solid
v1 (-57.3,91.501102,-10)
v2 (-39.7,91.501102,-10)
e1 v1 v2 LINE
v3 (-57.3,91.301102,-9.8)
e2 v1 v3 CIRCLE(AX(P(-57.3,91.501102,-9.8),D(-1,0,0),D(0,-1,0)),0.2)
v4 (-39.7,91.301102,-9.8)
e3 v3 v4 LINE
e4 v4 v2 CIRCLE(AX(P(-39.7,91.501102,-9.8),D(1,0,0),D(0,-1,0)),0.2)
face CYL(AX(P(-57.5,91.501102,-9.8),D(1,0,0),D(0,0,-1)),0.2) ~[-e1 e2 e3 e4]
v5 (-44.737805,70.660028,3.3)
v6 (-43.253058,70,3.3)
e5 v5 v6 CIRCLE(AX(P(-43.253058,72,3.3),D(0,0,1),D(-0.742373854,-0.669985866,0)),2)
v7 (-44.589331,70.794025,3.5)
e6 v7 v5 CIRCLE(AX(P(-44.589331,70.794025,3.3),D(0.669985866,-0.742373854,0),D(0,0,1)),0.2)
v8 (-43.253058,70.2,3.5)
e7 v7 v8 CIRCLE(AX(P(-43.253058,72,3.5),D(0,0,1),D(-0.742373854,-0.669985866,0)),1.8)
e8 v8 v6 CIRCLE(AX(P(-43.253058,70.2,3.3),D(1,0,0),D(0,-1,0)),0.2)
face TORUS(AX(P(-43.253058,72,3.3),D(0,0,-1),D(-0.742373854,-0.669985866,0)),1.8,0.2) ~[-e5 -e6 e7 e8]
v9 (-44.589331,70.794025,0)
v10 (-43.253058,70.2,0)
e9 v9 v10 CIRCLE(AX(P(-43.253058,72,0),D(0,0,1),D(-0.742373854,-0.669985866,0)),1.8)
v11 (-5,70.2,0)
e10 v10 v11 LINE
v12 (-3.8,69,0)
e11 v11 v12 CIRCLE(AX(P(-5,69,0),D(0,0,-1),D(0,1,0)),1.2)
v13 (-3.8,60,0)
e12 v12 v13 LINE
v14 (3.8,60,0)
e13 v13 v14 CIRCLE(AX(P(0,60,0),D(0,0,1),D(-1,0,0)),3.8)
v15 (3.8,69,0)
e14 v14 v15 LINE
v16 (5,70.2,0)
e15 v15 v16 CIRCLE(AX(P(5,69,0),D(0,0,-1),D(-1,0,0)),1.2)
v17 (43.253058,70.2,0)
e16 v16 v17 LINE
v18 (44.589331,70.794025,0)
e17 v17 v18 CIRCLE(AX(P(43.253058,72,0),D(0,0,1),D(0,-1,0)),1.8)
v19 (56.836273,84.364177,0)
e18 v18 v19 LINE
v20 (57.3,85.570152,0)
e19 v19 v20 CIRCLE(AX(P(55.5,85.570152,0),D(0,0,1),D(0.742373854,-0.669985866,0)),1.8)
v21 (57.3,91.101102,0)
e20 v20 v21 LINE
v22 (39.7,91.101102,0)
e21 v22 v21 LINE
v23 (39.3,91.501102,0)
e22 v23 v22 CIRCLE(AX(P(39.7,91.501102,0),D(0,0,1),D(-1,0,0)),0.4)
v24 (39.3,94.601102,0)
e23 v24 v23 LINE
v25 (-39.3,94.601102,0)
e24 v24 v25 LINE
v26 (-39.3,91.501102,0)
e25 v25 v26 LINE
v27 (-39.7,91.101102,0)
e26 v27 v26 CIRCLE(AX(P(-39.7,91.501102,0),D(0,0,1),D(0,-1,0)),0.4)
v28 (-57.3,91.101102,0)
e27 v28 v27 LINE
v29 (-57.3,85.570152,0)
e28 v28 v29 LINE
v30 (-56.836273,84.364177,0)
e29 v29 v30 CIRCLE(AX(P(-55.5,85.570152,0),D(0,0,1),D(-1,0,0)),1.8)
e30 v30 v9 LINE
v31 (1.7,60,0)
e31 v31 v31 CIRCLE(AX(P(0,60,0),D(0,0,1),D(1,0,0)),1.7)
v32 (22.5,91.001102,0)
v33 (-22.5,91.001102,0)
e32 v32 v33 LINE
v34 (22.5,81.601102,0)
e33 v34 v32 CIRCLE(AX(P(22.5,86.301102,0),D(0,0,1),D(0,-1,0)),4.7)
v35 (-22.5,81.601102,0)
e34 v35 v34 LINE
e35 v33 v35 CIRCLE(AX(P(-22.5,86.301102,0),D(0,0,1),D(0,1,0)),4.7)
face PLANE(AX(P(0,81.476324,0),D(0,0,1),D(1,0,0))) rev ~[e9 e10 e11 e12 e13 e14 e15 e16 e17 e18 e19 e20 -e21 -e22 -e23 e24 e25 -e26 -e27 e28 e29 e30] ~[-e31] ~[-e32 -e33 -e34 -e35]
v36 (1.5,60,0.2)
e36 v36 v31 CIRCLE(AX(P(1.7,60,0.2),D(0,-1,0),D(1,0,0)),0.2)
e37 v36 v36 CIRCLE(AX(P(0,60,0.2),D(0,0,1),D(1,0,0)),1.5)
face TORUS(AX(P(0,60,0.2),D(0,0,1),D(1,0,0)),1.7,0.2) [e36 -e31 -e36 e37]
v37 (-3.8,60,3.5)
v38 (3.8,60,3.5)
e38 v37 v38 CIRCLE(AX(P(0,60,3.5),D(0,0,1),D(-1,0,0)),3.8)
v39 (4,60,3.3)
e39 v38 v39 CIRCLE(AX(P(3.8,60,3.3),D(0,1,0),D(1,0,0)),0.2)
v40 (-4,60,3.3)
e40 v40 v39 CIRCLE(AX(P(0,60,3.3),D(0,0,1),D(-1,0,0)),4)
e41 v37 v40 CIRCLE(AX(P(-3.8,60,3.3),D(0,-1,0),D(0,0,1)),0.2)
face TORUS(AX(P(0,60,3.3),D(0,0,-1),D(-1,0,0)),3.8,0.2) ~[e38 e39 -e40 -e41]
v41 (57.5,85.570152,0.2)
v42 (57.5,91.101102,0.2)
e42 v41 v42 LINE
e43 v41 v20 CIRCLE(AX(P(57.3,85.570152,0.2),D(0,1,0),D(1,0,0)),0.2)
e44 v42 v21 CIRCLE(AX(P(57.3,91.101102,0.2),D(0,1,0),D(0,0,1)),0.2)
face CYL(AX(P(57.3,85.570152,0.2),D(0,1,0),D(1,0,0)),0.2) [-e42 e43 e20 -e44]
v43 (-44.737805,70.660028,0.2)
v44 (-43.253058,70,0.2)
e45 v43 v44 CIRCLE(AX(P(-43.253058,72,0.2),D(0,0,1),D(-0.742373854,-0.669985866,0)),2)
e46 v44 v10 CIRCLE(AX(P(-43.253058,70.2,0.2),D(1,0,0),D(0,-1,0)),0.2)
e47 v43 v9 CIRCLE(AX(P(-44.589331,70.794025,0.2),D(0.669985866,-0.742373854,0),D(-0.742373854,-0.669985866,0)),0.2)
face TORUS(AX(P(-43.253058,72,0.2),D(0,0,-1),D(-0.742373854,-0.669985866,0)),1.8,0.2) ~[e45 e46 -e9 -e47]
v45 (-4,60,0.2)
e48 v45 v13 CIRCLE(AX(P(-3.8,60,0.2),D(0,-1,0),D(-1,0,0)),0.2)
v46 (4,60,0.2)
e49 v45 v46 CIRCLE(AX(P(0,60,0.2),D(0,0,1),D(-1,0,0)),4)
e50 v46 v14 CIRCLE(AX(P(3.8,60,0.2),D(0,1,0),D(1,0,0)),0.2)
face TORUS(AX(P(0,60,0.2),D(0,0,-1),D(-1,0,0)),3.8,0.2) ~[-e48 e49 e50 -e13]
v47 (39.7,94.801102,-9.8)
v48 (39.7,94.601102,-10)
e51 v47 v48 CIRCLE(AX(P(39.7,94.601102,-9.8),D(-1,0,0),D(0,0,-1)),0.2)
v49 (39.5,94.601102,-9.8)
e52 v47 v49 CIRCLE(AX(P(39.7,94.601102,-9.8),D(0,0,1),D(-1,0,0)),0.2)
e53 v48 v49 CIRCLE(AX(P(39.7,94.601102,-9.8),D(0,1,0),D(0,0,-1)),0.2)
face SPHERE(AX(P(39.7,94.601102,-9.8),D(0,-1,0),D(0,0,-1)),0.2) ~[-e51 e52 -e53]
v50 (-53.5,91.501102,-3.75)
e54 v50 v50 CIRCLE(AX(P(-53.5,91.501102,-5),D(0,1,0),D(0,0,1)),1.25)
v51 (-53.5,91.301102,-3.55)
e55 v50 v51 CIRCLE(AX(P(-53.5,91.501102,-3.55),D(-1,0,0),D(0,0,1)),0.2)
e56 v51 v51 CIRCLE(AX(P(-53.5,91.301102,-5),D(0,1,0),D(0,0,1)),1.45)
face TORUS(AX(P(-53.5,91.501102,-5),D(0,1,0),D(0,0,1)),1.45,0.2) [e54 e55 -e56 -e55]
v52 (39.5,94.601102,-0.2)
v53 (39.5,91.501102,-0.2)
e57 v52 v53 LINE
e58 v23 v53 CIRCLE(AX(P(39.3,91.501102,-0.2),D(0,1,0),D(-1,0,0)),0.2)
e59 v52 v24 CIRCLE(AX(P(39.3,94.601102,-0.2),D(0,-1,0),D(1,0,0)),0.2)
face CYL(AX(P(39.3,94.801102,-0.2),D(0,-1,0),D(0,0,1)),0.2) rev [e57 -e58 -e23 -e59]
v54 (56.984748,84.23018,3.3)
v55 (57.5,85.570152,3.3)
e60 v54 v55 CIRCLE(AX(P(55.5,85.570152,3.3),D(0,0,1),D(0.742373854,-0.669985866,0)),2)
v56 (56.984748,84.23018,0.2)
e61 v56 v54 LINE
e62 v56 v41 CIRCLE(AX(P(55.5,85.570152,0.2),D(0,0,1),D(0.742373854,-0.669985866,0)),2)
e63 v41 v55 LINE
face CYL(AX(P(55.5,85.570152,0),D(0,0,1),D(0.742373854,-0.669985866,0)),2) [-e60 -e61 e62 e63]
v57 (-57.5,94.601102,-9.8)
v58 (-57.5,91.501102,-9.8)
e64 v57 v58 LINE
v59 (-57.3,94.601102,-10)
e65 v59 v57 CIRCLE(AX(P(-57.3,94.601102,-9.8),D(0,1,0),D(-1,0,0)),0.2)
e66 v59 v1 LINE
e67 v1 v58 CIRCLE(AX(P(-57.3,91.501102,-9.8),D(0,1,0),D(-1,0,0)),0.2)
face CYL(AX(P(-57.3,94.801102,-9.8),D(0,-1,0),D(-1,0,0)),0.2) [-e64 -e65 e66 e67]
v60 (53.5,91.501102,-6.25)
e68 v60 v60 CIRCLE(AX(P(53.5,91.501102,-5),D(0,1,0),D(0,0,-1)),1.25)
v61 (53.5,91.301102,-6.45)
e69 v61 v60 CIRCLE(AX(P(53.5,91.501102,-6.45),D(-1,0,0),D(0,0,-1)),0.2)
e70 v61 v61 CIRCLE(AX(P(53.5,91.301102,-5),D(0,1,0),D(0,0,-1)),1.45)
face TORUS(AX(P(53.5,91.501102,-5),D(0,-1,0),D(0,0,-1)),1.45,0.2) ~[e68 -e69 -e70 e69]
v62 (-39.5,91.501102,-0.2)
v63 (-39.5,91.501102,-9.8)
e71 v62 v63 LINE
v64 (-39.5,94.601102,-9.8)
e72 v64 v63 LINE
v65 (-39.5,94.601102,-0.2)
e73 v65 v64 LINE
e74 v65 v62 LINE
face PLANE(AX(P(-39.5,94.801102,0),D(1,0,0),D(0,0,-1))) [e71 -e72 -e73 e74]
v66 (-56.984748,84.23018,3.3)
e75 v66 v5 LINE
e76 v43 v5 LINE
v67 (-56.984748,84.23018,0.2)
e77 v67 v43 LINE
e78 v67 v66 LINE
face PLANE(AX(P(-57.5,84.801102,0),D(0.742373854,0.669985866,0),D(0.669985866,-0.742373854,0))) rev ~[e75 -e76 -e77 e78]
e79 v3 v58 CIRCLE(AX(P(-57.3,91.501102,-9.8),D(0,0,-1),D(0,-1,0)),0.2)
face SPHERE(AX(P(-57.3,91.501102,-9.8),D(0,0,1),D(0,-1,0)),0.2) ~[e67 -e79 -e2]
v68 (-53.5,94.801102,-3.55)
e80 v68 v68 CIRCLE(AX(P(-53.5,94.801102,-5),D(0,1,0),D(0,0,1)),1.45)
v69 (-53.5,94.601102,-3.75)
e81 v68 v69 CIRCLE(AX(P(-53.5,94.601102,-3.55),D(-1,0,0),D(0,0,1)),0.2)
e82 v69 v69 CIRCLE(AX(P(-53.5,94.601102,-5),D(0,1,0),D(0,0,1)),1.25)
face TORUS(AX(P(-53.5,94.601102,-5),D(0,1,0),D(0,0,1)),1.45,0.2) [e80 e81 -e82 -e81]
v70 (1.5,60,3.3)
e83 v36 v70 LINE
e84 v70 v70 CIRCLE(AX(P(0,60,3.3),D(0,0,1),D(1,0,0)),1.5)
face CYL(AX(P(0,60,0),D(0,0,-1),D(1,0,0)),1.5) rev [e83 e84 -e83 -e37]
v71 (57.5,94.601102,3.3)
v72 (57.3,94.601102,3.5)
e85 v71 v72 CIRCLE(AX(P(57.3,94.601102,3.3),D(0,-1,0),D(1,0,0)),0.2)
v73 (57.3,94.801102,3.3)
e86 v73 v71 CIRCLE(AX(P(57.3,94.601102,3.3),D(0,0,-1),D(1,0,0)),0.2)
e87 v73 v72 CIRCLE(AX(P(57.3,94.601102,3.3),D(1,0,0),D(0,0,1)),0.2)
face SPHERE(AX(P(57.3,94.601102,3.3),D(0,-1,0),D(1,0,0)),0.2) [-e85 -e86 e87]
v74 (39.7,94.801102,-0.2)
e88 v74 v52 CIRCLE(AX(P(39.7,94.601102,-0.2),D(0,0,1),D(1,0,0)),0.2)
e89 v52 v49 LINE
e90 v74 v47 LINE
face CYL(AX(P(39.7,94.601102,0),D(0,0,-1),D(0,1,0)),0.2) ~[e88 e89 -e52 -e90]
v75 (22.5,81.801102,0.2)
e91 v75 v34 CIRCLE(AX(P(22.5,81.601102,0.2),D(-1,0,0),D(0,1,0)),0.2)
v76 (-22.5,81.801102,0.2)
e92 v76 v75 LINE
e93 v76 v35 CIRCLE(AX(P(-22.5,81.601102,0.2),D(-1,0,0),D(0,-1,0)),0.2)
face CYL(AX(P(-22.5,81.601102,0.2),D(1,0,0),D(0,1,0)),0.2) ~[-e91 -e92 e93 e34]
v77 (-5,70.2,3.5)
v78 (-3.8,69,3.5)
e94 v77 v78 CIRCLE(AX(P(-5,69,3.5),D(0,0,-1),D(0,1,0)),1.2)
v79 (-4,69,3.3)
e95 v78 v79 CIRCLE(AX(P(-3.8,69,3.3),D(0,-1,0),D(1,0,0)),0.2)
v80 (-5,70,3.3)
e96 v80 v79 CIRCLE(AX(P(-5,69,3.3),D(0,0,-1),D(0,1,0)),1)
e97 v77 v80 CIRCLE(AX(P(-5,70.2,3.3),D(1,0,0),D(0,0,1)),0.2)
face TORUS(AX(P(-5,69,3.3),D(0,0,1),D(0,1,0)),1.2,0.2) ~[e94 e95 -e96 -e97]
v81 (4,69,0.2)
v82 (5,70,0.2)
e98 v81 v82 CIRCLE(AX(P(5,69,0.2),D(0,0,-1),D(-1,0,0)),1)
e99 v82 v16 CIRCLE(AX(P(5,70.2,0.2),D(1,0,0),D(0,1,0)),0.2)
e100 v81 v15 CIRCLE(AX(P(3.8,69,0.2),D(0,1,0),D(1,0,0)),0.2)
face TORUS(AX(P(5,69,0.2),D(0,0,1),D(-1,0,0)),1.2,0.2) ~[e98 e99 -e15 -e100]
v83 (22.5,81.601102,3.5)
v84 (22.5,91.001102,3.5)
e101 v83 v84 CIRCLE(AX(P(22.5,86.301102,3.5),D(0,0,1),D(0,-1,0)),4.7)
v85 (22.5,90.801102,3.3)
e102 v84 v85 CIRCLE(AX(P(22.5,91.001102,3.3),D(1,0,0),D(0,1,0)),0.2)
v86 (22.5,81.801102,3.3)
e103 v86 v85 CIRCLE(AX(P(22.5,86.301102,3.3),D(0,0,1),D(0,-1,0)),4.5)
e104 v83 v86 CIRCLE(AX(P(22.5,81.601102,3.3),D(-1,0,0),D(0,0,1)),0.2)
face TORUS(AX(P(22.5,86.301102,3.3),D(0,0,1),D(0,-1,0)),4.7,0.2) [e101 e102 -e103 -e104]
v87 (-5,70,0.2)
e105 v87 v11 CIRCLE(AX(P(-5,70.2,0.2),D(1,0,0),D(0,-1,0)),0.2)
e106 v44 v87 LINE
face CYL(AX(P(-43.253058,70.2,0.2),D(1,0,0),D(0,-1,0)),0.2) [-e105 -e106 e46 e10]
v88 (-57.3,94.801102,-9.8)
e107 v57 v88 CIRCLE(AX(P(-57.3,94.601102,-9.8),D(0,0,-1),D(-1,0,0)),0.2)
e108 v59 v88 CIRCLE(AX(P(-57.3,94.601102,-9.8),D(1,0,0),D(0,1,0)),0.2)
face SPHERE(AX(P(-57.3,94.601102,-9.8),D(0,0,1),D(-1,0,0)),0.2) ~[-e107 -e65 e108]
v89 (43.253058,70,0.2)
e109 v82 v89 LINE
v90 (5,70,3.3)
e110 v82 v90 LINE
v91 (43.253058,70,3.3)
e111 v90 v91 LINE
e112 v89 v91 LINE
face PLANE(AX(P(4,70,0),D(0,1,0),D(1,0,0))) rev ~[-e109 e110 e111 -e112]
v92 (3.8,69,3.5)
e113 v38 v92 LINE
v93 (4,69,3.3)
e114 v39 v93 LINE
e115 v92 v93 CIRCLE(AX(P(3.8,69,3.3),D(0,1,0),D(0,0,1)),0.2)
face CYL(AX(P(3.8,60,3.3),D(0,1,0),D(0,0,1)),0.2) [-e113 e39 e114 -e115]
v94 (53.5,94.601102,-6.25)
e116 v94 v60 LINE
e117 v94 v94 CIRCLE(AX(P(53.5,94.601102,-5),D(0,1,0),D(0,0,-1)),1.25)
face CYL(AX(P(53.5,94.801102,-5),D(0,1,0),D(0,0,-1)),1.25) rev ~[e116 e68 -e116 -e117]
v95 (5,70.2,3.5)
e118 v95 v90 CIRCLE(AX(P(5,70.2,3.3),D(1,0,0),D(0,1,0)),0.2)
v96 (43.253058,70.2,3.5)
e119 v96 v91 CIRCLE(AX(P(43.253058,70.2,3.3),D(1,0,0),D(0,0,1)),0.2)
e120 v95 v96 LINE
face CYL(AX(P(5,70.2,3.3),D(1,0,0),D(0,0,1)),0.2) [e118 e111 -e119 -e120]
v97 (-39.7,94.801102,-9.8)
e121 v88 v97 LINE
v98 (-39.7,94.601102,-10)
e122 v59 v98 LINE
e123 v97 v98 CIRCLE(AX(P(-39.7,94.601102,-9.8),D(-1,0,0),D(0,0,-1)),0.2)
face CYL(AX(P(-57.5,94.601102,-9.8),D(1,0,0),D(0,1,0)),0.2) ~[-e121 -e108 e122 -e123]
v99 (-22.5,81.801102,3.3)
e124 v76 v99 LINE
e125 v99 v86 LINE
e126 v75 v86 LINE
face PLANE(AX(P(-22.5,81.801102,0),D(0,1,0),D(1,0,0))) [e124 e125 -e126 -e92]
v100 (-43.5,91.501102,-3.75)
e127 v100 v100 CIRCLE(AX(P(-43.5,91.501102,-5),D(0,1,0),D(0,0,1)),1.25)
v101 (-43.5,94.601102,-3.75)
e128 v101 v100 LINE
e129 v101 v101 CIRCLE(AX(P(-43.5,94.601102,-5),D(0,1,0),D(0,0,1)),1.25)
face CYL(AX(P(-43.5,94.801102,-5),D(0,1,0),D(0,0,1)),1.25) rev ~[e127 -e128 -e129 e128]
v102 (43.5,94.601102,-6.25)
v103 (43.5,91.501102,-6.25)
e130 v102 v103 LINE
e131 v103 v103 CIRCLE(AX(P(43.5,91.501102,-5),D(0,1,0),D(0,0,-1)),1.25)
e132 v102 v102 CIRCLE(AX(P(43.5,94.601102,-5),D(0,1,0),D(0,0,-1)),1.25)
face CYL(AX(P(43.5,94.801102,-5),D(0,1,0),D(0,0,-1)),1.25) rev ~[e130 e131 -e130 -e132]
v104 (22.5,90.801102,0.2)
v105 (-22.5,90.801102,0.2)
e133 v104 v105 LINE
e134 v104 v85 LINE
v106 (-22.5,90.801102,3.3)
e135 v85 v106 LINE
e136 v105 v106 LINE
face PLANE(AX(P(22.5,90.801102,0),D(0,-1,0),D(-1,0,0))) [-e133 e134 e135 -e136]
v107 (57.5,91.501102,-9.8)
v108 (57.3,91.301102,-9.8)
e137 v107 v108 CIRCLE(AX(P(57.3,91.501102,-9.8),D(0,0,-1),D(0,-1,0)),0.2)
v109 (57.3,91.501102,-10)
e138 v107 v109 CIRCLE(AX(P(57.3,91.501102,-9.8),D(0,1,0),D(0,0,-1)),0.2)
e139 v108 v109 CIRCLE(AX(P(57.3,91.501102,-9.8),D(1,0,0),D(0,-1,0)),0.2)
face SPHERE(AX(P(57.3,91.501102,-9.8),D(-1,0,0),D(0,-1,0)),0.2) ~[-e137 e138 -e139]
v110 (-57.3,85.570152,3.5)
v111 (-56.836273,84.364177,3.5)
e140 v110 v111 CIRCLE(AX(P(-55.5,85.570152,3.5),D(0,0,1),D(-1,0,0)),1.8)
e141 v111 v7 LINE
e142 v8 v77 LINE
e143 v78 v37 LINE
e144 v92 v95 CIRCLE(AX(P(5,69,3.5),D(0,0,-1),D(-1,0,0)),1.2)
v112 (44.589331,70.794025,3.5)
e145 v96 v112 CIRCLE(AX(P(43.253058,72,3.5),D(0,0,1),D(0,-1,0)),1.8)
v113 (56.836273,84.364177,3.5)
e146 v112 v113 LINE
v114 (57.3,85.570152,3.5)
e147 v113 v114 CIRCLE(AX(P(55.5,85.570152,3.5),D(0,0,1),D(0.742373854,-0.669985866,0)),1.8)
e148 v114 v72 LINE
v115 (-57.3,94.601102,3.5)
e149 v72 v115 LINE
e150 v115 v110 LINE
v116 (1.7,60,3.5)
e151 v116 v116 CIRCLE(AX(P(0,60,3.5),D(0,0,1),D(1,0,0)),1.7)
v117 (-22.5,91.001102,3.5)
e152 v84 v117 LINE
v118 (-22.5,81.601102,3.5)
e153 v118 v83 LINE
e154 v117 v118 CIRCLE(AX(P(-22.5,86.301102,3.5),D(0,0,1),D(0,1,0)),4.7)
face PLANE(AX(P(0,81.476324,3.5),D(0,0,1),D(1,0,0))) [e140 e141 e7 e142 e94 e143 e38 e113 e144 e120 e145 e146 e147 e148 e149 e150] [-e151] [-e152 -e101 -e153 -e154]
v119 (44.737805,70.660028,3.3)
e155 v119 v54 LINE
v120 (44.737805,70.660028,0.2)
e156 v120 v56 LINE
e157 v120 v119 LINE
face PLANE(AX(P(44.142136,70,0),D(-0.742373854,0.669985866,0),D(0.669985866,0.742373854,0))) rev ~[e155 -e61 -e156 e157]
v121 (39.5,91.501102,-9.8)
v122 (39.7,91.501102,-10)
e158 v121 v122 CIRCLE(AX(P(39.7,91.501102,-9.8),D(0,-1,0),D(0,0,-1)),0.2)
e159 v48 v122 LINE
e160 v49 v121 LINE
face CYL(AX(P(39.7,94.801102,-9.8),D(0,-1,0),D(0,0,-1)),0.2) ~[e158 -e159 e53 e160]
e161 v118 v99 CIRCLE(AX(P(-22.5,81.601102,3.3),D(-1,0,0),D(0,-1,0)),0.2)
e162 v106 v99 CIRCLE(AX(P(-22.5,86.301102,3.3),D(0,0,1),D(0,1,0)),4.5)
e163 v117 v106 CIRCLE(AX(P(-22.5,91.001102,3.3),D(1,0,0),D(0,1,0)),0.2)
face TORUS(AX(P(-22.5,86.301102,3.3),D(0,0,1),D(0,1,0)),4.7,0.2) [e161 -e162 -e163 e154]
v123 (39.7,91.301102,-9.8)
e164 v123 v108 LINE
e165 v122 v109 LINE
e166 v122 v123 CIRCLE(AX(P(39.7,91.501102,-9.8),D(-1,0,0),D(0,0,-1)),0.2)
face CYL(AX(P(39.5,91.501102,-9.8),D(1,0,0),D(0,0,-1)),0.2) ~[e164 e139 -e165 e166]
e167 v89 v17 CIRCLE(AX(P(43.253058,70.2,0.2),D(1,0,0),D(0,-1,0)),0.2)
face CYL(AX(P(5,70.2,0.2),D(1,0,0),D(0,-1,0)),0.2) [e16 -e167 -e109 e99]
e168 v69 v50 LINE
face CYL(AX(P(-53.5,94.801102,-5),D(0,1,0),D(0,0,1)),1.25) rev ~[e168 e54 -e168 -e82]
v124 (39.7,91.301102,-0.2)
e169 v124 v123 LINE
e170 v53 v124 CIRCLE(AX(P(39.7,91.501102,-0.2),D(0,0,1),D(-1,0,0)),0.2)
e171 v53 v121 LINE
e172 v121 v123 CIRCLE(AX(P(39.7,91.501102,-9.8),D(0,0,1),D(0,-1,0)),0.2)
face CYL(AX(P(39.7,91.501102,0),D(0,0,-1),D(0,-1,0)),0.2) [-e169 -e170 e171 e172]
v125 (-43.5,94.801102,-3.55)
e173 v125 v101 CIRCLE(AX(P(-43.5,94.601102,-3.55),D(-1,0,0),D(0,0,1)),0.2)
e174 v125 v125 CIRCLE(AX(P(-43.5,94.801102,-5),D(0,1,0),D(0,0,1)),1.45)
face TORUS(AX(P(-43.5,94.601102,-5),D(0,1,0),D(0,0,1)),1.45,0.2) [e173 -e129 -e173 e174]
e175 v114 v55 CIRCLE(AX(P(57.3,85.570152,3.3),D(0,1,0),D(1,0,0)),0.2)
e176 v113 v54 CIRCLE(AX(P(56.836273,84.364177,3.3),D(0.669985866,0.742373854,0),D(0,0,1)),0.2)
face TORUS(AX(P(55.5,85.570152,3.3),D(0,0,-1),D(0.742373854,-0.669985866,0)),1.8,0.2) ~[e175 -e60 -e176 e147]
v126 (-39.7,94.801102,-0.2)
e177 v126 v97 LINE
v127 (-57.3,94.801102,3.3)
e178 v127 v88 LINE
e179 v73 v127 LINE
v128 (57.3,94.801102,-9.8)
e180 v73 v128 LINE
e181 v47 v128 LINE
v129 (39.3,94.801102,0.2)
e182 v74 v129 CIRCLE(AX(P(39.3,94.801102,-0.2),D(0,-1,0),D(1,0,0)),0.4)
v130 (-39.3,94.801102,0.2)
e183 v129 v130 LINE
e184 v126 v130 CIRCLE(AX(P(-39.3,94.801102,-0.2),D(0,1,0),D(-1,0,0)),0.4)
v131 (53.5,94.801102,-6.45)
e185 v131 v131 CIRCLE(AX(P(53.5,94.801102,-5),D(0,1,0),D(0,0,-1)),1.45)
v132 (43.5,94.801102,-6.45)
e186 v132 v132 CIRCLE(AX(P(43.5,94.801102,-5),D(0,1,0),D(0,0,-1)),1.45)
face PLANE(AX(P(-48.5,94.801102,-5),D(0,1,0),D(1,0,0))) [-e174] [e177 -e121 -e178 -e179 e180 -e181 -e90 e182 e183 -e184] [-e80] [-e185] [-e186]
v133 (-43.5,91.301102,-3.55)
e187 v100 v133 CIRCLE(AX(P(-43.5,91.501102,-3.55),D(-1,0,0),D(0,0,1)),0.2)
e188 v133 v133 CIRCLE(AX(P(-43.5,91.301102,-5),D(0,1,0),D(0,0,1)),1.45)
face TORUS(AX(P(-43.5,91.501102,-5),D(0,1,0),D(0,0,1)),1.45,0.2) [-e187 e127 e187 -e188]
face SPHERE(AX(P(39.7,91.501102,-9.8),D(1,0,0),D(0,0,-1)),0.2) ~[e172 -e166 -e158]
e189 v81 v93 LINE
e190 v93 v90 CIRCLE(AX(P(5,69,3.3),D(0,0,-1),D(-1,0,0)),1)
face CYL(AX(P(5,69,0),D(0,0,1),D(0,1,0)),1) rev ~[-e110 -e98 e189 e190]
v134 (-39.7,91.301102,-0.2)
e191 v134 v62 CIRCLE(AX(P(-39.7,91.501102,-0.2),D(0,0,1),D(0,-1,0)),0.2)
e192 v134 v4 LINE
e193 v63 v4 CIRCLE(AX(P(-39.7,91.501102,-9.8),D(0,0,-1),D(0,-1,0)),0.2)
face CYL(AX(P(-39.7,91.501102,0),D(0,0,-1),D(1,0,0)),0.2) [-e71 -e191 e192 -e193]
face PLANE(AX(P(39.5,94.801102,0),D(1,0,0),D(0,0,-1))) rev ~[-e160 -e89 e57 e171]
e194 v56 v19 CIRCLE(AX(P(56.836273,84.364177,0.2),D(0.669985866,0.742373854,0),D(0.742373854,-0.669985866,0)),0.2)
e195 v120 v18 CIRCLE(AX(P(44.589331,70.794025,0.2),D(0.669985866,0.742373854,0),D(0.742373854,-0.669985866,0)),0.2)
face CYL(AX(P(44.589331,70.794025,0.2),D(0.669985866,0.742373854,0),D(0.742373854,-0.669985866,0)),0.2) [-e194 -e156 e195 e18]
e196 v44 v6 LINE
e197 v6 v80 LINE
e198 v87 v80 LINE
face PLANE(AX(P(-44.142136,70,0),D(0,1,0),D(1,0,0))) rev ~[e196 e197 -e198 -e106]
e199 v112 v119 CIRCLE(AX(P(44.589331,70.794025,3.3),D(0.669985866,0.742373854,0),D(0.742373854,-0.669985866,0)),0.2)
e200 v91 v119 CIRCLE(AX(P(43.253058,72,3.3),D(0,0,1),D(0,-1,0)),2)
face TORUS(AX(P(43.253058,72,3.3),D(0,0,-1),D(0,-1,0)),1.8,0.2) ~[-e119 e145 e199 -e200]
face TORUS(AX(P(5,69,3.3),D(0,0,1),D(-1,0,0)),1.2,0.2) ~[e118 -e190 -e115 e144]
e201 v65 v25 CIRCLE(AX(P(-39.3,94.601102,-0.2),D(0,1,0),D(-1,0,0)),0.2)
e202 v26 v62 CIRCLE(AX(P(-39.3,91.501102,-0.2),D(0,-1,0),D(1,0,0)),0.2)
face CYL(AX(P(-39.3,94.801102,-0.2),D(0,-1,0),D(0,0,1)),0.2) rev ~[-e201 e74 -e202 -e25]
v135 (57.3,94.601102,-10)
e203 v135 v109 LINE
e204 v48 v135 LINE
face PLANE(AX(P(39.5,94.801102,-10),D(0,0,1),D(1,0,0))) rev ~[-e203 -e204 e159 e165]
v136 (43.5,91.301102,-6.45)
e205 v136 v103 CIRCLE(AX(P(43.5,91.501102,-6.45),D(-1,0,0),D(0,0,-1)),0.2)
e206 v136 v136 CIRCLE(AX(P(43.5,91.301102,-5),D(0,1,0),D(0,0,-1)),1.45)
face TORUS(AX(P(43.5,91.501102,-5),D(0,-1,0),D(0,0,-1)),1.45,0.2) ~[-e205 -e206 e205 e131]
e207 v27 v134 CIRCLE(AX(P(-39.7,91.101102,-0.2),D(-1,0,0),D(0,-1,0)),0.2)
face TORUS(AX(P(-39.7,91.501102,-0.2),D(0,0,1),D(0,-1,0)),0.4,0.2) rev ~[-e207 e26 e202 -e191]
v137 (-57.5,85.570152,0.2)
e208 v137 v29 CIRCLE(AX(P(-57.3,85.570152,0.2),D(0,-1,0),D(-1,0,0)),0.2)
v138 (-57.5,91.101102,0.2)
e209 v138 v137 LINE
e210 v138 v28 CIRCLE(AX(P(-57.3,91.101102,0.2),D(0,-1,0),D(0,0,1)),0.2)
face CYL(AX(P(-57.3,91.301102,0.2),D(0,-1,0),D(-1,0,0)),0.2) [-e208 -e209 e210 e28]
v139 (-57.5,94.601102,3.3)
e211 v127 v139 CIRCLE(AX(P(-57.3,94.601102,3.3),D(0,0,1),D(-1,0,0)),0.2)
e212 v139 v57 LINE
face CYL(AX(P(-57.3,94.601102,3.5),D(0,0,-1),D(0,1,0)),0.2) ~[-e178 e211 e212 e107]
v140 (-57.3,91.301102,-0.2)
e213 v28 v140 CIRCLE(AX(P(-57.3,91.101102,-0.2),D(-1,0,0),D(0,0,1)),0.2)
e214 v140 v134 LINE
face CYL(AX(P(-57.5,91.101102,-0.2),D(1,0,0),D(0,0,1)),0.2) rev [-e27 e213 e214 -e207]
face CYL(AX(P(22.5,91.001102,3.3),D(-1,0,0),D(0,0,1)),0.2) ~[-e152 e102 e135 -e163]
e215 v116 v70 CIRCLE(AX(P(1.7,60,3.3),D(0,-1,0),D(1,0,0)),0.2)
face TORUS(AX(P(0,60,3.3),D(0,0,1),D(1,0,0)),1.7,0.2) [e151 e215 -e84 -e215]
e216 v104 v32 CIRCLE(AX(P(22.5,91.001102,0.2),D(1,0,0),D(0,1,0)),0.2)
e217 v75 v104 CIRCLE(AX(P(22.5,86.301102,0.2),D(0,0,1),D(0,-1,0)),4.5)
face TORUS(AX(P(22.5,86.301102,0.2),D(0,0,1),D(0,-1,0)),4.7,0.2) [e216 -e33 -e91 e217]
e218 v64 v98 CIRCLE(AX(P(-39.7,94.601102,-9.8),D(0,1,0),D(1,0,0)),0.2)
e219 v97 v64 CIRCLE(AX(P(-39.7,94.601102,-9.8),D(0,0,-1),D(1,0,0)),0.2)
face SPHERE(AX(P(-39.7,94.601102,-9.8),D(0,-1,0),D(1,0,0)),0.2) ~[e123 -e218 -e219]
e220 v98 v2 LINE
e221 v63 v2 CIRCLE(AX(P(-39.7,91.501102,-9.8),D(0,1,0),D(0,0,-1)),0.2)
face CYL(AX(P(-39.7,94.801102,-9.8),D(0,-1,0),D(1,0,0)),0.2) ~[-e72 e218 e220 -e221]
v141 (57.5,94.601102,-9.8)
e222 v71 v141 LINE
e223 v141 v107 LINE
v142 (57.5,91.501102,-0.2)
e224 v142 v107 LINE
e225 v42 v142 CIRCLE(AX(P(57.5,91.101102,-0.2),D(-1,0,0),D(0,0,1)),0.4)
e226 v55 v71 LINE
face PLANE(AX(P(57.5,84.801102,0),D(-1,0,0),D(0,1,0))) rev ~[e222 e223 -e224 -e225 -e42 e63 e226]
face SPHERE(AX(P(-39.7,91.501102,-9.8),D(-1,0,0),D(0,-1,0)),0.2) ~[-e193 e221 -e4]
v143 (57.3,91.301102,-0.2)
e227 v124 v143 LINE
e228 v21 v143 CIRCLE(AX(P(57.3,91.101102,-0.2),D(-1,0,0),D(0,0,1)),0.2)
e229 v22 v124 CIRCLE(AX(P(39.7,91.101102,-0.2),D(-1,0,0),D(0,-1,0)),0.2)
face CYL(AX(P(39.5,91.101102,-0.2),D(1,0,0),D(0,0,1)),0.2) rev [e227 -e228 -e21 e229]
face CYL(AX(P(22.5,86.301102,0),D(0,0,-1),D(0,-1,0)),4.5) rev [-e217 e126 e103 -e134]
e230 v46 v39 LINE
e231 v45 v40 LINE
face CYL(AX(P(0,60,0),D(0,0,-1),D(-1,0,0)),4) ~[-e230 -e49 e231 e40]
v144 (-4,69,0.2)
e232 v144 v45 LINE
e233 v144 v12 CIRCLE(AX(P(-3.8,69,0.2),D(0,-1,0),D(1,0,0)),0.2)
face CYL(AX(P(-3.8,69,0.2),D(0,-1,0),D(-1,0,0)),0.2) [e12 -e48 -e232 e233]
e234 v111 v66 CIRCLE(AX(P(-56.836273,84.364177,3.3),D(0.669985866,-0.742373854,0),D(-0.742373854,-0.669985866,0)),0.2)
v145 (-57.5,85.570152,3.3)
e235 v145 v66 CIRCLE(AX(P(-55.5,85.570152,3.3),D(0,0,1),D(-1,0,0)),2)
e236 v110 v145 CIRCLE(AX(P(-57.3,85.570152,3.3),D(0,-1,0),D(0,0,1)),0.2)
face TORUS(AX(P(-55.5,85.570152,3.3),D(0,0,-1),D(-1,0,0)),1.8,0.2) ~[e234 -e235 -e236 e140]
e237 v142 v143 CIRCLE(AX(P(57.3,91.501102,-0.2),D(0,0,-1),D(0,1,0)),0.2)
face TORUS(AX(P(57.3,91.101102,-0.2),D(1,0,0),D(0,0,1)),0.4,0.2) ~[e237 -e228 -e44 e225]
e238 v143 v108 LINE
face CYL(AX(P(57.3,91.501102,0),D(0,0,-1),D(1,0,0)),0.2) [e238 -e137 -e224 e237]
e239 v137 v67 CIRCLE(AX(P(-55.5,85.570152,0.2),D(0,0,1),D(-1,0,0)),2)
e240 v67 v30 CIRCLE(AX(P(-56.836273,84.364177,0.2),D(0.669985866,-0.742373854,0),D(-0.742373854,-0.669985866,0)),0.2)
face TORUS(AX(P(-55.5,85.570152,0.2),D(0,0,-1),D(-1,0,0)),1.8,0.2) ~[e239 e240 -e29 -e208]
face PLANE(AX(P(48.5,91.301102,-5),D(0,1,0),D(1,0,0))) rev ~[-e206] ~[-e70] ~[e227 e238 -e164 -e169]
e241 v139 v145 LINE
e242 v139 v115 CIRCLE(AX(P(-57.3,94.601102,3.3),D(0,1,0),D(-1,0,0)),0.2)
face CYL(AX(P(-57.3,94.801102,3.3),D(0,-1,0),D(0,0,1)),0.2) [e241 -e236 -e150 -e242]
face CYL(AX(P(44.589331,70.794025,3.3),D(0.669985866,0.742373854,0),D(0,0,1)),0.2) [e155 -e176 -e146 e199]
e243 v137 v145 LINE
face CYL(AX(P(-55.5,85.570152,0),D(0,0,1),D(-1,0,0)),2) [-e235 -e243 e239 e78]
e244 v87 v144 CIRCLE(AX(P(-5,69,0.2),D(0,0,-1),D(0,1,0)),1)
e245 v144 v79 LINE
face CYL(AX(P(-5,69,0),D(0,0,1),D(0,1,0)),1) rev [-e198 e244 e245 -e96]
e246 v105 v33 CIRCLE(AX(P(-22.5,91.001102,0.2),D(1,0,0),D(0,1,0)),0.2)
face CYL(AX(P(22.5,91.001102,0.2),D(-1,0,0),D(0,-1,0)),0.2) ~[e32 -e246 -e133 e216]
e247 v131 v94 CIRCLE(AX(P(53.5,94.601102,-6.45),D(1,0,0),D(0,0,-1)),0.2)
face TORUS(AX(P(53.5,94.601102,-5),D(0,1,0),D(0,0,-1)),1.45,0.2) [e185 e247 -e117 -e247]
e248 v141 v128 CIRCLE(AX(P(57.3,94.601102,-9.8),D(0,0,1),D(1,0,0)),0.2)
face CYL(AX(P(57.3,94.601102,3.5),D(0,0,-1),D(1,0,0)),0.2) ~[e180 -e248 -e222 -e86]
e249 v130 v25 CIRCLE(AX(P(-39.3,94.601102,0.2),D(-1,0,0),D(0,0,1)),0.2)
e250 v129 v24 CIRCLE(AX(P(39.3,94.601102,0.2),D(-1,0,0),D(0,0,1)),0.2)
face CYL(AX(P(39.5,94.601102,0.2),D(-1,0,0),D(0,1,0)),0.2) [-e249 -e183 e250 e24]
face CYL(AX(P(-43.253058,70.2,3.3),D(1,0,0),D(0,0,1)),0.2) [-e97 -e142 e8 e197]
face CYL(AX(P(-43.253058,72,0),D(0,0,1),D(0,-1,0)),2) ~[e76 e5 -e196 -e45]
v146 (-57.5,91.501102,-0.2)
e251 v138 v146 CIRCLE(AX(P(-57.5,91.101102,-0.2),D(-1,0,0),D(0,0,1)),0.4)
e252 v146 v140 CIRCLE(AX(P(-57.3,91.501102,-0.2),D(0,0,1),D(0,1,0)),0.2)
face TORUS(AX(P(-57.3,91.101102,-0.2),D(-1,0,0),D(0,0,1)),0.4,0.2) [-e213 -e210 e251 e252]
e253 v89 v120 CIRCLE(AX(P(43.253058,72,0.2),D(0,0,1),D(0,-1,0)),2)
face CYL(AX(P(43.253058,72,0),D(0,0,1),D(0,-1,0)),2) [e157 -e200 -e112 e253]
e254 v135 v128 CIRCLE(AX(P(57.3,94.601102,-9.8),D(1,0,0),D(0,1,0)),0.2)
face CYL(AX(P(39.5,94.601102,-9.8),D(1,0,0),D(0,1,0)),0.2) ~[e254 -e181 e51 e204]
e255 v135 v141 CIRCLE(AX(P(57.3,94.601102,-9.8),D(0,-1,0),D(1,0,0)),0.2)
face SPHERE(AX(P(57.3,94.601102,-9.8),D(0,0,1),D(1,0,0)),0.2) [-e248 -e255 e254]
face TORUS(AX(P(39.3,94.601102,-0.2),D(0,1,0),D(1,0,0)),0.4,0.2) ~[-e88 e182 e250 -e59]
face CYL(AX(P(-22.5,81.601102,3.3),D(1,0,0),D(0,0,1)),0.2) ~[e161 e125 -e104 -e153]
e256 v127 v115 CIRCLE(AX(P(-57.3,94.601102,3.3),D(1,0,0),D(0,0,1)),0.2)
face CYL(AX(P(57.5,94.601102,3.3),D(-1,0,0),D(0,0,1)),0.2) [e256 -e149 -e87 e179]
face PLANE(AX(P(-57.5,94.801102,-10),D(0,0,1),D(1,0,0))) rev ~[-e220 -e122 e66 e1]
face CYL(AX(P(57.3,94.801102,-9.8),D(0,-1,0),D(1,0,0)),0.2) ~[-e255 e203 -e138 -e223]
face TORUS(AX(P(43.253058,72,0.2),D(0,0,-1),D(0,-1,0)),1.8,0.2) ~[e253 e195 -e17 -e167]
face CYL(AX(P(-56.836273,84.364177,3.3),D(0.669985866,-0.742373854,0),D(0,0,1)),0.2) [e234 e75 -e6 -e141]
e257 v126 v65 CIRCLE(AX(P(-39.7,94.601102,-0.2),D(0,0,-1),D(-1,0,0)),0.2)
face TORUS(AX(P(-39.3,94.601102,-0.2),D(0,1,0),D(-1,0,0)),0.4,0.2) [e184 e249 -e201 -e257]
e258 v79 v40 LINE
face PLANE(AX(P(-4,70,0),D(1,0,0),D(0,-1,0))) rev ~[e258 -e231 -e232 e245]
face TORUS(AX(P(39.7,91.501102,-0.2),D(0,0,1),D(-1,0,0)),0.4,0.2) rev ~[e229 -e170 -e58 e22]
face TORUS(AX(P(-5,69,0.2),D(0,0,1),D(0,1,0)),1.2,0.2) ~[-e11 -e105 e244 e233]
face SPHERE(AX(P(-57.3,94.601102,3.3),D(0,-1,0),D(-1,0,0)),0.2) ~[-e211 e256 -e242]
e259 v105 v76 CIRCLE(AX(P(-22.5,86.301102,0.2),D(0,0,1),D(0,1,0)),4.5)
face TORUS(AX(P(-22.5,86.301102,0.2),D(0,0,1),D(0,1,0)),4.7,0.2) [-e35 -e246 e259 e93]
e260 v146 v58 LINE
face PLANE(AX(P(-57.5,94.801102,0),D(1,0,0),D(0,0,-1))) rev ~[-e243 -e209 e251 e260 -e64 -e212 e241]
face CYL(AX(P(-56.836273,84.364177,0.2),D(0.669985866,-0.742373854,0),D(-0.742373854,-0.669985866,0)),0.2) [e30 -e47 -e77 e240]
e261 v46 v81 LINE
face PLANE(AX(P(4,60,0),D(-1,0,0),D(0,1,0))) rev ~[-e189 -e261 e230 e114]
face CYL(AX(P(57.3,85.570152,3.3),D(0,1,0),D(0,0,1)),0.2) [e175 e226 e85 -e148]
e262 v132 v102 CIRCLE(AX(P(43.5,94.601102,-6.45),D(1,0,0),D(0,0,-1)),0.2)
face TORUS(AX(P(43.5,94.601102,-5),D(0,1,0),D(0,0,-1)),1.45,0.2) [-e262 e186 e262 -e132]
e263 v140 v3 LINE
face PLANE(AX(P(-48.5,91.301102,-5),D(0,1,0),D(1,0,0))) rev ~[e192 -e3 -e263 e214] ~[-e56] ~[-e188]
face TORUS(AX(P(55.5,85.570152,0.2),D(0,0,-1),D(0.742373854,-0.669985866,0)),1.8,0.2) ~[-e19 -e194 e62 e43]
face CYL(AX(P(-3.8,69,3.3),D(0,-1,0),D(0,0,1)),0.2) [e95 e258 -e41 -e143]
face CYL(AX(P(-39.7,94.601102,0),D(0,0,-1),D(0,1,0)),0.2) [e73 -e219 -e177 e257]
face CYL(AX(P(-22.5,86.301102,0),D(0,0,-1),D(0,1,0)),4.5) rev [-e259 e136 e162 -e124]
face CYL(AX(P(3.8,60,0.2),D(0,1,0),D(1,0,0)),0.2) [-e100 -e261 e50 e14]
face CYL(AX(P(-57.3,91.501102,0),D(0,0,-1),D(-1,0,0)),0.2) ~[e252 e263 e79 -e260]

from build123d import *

# Parameters (mm, degrees)
SKETCH5_R           = 1.5
BOSS_EXTRUDE1_DEPTH = 3.5
SKETCH6_W           = 18
SKETCH6_H           = 10
SKETCH6_R           = 1.25
BOSS_EXTRUDE2_DEPTH = 3.5
FILLET1_R           = 2
FILLET2_R           = 1
FILLET4_R           = 0.2


with BuildPart() as part:
    # Sketch5 → Boss-Extrude1 (new body)
    with BuildSketch(Plane.XY):
        with BuildLine():
            Line((57.5, 94.801102161), (-57.5, 94.801102161))
            Line((-57.5, 94.801102161), (-57.5, 84.801102161))
            Line((-57.5, 84.801102161), (-44.142135624, 70))
            Line((-44.142135624, 70), (-4, 70))
            Line((-4, 70), (-4, 60))
            ThreePointArc((-4, 60), (0, 56), (4, 60))
            Line((4, 60), (4, 70))
            Line((4, 70), (44.142135624, 70))
            Line((44.142135624, 70), (57.5, 84.801102161))
            Line((57.5, 84.801102161), (57.5, 94.801102161))
        make_face()
        with Locations((0, 60)):
            Circle(SKETCH5_R, mode=Mode.SUBTRACT)
        with BuildLine():
            Line((22.5, 90.801102161), (-22.5, 90.801102161))
            ThreePointArc((-22.5, 90.801102161), (-27, 86.301102161), (-22.5, 81.801102161))
            Line((-22.5, 81.801102161), (22.5, 81.801102161))
            ThreePointArc((22.5, 81.801102161), (27, 86.301102161), (22.5, 90.801102161))
        make_face(mode=Mode.SUBTRACT)
    extrude(amount=BOSS_EXTRUDE1_DEPTH)

    # Sketch6 → Boss-Extrude2 (add)
    # profile 1 of 2: a face of its own
    with BuildSketch(Plane(origin=(0, 94.801102161, 0), x_dir=(1, 0, 0), z_dir=(0, 1, 0))):
        with Locations((-48.5, 5)):
            Rectangle(SKETCH6_W, SKETCH6_H)
        with Locations(Location((-53.5, 5, 0), (0, 0, 270))):
            Circle(SKETCH6_R, mode=Mode.SUBTRACT)
        with Locations(Location((-43.5, 5, 0), (0, 0, 270))):
            Circle(SKETCH6_R, mode=Mode.SUBTRACT)
    # profile 2 of 2: a face of its own
    with BuildSketch(Plane(origin=(0, 94.801102161, 0), x_dir=(1, 0, 0), z_dir=(0, 1, 0))):
        with Locations((48.5, 5)):
            Rectangle(SKETCH6_W, SKETCH6_H)
        with Locations(Location((43.5, 5, 0), (0, 0, 90))):
            Circle(SKETCH6_R, mode=Mode.SUBTRACT)
        with Locations(Location((53.5, 5, 0), (0, 0, 90))):
            Circle(SKETCH6_R, mode=Mode.SUBTRACT)
    extrude(amount=-BOSS_EXTRUDE2_DEPTH)

    # Fillet1
    fillet1_edges = [part.edges().sort_by_distance(p)[0] for p in [
        (57.5, 84.801102161, 1.75),
        (44.142135624, 70, 1.75),
        (-44.142135624, 70, 1.75),
        (-57.5, 84.801102161, 1.75),
    ]]
    fillet(fillet1_edges, radius=FILLET1_R)

    # Fillet2
    fillet2_edges = [part.edges().sort_by_distance(p)[0] for p in [
        (4, 70, 1.75),
        (-4, 70, 1.75),
    ]]
    fillet(fillet2_edges, radius=FILLET2_R)

    # Fillet4
    fillet4_edges = [part.edges().sort_by_distance(p)[0] for p in [
        (24.126528808, 70, 0),
        (24.126528808, 70, 3.5),
        (-4, 64.5, 0),
        (-4, 64.5, 3.5),
        (4.292893219, 69.707106781, 0),
        (4.292893219, 69.707106781, 3.5),
        (-4.292893219, 69.707106781, 0),
        (-4.292893219, 69.707106781, 3.5),
        (4, 64.5, 0),
        (0, 56, 0),
        (-57.5, 94.801102161, -3.25),
        (57.5, 94.801102161, -3.25),
        (0, 56, 3.5),
        (4, 64.5, 3.5),
        (-1.5, 60, 0),
        (-1.5, 60, 3.5),
        (-27, 86.301102161, 0),
        (0, 81.801102161, 0),
        (27, 86.301102161, 0),
        (0, 90.801102161, 0),
        (-27, 86.301102161, 3.5),
        (0, 81.801102161, 3.5),
        (27, 86.301102161, 3.5),
        (0, 90.801102161, 3.5),
        (0, 94.801102161, 3.5),
        (-57.5, 88.435626909, 0),
        (-57.5, 91.301102161, -5),
        (-48.5, 91.301102161, -10),
        (-57.5, 90.185626909, 3.5),
        (-57.5, 93.051102161, -10),
        (-39.5, 91.301102161, -5),
        (-39.5, 93.051102161, -10),
        (-48.5, 91.301102161, 0),
        (-39.5, 93.051102161, 0),
        (-43.5, 91.301102161, -6.25),
        (-53.5, 91.301102161, -6.25),
        (-39.5, 94.801102161, -5),
        (-48.5, 94.801102161, -10),
        (-53.5, 94.801102161, -6.25),
        (-43.5, 94.801102161, -6.25),
        (0, 94.801102161, 0),
        (48.5, 91.301102161, -10),
        (39.5, 93.051102161, -10),
        (57.5, 91.301102161, -5),
        (57.5, 93.051102161, -10),
        (48.5, 91.301102161, 0),
        (39.5, 91.301102161, -5),
        (39.5, 93.051102161, 0),
        (53.5, 91.301102161, -3.75),
        (43.5, 91.301102161, -3.75),
        (48.5, 94.801102161, -10),
        (39.5, 94.801102161, -5),
        (43.5, 94.801102161, -3.75),
        (53.5, 94.801102161, -3.75),
        (57.5, 88.435626909, 0),
        (57.5, 90.185626909, 3.5),
        (50.861276515, 77.445104095, 0),
        (-24.126528808, 70, 0),
        (-50.861276515, 77.445104095, 0),
        (-57.366747896, 84.852340893, 0),
        (-44.065478853, 70.172441045, 0),
        (44.065478853, 70.172441045, 0),
        (57.366747896, 84.852340893, 0),
        (50.861276515, 77.445104095, 3.5),
        (-50.861276515, 77.445104095, 3.5),
        (-24.126528808, 70, 3.5),
        (-57.366747896, 84.852340893, 3.5),
        (-44.065478853, 70.172441045, 3.5),
        (44.065478853, 70.172441045, 3.5),
        (57.366747896, 84.852340893, 3.5),
    ]]
    fillet(fillet4_edges, radius=FILLET4_R)


solid = part.part
